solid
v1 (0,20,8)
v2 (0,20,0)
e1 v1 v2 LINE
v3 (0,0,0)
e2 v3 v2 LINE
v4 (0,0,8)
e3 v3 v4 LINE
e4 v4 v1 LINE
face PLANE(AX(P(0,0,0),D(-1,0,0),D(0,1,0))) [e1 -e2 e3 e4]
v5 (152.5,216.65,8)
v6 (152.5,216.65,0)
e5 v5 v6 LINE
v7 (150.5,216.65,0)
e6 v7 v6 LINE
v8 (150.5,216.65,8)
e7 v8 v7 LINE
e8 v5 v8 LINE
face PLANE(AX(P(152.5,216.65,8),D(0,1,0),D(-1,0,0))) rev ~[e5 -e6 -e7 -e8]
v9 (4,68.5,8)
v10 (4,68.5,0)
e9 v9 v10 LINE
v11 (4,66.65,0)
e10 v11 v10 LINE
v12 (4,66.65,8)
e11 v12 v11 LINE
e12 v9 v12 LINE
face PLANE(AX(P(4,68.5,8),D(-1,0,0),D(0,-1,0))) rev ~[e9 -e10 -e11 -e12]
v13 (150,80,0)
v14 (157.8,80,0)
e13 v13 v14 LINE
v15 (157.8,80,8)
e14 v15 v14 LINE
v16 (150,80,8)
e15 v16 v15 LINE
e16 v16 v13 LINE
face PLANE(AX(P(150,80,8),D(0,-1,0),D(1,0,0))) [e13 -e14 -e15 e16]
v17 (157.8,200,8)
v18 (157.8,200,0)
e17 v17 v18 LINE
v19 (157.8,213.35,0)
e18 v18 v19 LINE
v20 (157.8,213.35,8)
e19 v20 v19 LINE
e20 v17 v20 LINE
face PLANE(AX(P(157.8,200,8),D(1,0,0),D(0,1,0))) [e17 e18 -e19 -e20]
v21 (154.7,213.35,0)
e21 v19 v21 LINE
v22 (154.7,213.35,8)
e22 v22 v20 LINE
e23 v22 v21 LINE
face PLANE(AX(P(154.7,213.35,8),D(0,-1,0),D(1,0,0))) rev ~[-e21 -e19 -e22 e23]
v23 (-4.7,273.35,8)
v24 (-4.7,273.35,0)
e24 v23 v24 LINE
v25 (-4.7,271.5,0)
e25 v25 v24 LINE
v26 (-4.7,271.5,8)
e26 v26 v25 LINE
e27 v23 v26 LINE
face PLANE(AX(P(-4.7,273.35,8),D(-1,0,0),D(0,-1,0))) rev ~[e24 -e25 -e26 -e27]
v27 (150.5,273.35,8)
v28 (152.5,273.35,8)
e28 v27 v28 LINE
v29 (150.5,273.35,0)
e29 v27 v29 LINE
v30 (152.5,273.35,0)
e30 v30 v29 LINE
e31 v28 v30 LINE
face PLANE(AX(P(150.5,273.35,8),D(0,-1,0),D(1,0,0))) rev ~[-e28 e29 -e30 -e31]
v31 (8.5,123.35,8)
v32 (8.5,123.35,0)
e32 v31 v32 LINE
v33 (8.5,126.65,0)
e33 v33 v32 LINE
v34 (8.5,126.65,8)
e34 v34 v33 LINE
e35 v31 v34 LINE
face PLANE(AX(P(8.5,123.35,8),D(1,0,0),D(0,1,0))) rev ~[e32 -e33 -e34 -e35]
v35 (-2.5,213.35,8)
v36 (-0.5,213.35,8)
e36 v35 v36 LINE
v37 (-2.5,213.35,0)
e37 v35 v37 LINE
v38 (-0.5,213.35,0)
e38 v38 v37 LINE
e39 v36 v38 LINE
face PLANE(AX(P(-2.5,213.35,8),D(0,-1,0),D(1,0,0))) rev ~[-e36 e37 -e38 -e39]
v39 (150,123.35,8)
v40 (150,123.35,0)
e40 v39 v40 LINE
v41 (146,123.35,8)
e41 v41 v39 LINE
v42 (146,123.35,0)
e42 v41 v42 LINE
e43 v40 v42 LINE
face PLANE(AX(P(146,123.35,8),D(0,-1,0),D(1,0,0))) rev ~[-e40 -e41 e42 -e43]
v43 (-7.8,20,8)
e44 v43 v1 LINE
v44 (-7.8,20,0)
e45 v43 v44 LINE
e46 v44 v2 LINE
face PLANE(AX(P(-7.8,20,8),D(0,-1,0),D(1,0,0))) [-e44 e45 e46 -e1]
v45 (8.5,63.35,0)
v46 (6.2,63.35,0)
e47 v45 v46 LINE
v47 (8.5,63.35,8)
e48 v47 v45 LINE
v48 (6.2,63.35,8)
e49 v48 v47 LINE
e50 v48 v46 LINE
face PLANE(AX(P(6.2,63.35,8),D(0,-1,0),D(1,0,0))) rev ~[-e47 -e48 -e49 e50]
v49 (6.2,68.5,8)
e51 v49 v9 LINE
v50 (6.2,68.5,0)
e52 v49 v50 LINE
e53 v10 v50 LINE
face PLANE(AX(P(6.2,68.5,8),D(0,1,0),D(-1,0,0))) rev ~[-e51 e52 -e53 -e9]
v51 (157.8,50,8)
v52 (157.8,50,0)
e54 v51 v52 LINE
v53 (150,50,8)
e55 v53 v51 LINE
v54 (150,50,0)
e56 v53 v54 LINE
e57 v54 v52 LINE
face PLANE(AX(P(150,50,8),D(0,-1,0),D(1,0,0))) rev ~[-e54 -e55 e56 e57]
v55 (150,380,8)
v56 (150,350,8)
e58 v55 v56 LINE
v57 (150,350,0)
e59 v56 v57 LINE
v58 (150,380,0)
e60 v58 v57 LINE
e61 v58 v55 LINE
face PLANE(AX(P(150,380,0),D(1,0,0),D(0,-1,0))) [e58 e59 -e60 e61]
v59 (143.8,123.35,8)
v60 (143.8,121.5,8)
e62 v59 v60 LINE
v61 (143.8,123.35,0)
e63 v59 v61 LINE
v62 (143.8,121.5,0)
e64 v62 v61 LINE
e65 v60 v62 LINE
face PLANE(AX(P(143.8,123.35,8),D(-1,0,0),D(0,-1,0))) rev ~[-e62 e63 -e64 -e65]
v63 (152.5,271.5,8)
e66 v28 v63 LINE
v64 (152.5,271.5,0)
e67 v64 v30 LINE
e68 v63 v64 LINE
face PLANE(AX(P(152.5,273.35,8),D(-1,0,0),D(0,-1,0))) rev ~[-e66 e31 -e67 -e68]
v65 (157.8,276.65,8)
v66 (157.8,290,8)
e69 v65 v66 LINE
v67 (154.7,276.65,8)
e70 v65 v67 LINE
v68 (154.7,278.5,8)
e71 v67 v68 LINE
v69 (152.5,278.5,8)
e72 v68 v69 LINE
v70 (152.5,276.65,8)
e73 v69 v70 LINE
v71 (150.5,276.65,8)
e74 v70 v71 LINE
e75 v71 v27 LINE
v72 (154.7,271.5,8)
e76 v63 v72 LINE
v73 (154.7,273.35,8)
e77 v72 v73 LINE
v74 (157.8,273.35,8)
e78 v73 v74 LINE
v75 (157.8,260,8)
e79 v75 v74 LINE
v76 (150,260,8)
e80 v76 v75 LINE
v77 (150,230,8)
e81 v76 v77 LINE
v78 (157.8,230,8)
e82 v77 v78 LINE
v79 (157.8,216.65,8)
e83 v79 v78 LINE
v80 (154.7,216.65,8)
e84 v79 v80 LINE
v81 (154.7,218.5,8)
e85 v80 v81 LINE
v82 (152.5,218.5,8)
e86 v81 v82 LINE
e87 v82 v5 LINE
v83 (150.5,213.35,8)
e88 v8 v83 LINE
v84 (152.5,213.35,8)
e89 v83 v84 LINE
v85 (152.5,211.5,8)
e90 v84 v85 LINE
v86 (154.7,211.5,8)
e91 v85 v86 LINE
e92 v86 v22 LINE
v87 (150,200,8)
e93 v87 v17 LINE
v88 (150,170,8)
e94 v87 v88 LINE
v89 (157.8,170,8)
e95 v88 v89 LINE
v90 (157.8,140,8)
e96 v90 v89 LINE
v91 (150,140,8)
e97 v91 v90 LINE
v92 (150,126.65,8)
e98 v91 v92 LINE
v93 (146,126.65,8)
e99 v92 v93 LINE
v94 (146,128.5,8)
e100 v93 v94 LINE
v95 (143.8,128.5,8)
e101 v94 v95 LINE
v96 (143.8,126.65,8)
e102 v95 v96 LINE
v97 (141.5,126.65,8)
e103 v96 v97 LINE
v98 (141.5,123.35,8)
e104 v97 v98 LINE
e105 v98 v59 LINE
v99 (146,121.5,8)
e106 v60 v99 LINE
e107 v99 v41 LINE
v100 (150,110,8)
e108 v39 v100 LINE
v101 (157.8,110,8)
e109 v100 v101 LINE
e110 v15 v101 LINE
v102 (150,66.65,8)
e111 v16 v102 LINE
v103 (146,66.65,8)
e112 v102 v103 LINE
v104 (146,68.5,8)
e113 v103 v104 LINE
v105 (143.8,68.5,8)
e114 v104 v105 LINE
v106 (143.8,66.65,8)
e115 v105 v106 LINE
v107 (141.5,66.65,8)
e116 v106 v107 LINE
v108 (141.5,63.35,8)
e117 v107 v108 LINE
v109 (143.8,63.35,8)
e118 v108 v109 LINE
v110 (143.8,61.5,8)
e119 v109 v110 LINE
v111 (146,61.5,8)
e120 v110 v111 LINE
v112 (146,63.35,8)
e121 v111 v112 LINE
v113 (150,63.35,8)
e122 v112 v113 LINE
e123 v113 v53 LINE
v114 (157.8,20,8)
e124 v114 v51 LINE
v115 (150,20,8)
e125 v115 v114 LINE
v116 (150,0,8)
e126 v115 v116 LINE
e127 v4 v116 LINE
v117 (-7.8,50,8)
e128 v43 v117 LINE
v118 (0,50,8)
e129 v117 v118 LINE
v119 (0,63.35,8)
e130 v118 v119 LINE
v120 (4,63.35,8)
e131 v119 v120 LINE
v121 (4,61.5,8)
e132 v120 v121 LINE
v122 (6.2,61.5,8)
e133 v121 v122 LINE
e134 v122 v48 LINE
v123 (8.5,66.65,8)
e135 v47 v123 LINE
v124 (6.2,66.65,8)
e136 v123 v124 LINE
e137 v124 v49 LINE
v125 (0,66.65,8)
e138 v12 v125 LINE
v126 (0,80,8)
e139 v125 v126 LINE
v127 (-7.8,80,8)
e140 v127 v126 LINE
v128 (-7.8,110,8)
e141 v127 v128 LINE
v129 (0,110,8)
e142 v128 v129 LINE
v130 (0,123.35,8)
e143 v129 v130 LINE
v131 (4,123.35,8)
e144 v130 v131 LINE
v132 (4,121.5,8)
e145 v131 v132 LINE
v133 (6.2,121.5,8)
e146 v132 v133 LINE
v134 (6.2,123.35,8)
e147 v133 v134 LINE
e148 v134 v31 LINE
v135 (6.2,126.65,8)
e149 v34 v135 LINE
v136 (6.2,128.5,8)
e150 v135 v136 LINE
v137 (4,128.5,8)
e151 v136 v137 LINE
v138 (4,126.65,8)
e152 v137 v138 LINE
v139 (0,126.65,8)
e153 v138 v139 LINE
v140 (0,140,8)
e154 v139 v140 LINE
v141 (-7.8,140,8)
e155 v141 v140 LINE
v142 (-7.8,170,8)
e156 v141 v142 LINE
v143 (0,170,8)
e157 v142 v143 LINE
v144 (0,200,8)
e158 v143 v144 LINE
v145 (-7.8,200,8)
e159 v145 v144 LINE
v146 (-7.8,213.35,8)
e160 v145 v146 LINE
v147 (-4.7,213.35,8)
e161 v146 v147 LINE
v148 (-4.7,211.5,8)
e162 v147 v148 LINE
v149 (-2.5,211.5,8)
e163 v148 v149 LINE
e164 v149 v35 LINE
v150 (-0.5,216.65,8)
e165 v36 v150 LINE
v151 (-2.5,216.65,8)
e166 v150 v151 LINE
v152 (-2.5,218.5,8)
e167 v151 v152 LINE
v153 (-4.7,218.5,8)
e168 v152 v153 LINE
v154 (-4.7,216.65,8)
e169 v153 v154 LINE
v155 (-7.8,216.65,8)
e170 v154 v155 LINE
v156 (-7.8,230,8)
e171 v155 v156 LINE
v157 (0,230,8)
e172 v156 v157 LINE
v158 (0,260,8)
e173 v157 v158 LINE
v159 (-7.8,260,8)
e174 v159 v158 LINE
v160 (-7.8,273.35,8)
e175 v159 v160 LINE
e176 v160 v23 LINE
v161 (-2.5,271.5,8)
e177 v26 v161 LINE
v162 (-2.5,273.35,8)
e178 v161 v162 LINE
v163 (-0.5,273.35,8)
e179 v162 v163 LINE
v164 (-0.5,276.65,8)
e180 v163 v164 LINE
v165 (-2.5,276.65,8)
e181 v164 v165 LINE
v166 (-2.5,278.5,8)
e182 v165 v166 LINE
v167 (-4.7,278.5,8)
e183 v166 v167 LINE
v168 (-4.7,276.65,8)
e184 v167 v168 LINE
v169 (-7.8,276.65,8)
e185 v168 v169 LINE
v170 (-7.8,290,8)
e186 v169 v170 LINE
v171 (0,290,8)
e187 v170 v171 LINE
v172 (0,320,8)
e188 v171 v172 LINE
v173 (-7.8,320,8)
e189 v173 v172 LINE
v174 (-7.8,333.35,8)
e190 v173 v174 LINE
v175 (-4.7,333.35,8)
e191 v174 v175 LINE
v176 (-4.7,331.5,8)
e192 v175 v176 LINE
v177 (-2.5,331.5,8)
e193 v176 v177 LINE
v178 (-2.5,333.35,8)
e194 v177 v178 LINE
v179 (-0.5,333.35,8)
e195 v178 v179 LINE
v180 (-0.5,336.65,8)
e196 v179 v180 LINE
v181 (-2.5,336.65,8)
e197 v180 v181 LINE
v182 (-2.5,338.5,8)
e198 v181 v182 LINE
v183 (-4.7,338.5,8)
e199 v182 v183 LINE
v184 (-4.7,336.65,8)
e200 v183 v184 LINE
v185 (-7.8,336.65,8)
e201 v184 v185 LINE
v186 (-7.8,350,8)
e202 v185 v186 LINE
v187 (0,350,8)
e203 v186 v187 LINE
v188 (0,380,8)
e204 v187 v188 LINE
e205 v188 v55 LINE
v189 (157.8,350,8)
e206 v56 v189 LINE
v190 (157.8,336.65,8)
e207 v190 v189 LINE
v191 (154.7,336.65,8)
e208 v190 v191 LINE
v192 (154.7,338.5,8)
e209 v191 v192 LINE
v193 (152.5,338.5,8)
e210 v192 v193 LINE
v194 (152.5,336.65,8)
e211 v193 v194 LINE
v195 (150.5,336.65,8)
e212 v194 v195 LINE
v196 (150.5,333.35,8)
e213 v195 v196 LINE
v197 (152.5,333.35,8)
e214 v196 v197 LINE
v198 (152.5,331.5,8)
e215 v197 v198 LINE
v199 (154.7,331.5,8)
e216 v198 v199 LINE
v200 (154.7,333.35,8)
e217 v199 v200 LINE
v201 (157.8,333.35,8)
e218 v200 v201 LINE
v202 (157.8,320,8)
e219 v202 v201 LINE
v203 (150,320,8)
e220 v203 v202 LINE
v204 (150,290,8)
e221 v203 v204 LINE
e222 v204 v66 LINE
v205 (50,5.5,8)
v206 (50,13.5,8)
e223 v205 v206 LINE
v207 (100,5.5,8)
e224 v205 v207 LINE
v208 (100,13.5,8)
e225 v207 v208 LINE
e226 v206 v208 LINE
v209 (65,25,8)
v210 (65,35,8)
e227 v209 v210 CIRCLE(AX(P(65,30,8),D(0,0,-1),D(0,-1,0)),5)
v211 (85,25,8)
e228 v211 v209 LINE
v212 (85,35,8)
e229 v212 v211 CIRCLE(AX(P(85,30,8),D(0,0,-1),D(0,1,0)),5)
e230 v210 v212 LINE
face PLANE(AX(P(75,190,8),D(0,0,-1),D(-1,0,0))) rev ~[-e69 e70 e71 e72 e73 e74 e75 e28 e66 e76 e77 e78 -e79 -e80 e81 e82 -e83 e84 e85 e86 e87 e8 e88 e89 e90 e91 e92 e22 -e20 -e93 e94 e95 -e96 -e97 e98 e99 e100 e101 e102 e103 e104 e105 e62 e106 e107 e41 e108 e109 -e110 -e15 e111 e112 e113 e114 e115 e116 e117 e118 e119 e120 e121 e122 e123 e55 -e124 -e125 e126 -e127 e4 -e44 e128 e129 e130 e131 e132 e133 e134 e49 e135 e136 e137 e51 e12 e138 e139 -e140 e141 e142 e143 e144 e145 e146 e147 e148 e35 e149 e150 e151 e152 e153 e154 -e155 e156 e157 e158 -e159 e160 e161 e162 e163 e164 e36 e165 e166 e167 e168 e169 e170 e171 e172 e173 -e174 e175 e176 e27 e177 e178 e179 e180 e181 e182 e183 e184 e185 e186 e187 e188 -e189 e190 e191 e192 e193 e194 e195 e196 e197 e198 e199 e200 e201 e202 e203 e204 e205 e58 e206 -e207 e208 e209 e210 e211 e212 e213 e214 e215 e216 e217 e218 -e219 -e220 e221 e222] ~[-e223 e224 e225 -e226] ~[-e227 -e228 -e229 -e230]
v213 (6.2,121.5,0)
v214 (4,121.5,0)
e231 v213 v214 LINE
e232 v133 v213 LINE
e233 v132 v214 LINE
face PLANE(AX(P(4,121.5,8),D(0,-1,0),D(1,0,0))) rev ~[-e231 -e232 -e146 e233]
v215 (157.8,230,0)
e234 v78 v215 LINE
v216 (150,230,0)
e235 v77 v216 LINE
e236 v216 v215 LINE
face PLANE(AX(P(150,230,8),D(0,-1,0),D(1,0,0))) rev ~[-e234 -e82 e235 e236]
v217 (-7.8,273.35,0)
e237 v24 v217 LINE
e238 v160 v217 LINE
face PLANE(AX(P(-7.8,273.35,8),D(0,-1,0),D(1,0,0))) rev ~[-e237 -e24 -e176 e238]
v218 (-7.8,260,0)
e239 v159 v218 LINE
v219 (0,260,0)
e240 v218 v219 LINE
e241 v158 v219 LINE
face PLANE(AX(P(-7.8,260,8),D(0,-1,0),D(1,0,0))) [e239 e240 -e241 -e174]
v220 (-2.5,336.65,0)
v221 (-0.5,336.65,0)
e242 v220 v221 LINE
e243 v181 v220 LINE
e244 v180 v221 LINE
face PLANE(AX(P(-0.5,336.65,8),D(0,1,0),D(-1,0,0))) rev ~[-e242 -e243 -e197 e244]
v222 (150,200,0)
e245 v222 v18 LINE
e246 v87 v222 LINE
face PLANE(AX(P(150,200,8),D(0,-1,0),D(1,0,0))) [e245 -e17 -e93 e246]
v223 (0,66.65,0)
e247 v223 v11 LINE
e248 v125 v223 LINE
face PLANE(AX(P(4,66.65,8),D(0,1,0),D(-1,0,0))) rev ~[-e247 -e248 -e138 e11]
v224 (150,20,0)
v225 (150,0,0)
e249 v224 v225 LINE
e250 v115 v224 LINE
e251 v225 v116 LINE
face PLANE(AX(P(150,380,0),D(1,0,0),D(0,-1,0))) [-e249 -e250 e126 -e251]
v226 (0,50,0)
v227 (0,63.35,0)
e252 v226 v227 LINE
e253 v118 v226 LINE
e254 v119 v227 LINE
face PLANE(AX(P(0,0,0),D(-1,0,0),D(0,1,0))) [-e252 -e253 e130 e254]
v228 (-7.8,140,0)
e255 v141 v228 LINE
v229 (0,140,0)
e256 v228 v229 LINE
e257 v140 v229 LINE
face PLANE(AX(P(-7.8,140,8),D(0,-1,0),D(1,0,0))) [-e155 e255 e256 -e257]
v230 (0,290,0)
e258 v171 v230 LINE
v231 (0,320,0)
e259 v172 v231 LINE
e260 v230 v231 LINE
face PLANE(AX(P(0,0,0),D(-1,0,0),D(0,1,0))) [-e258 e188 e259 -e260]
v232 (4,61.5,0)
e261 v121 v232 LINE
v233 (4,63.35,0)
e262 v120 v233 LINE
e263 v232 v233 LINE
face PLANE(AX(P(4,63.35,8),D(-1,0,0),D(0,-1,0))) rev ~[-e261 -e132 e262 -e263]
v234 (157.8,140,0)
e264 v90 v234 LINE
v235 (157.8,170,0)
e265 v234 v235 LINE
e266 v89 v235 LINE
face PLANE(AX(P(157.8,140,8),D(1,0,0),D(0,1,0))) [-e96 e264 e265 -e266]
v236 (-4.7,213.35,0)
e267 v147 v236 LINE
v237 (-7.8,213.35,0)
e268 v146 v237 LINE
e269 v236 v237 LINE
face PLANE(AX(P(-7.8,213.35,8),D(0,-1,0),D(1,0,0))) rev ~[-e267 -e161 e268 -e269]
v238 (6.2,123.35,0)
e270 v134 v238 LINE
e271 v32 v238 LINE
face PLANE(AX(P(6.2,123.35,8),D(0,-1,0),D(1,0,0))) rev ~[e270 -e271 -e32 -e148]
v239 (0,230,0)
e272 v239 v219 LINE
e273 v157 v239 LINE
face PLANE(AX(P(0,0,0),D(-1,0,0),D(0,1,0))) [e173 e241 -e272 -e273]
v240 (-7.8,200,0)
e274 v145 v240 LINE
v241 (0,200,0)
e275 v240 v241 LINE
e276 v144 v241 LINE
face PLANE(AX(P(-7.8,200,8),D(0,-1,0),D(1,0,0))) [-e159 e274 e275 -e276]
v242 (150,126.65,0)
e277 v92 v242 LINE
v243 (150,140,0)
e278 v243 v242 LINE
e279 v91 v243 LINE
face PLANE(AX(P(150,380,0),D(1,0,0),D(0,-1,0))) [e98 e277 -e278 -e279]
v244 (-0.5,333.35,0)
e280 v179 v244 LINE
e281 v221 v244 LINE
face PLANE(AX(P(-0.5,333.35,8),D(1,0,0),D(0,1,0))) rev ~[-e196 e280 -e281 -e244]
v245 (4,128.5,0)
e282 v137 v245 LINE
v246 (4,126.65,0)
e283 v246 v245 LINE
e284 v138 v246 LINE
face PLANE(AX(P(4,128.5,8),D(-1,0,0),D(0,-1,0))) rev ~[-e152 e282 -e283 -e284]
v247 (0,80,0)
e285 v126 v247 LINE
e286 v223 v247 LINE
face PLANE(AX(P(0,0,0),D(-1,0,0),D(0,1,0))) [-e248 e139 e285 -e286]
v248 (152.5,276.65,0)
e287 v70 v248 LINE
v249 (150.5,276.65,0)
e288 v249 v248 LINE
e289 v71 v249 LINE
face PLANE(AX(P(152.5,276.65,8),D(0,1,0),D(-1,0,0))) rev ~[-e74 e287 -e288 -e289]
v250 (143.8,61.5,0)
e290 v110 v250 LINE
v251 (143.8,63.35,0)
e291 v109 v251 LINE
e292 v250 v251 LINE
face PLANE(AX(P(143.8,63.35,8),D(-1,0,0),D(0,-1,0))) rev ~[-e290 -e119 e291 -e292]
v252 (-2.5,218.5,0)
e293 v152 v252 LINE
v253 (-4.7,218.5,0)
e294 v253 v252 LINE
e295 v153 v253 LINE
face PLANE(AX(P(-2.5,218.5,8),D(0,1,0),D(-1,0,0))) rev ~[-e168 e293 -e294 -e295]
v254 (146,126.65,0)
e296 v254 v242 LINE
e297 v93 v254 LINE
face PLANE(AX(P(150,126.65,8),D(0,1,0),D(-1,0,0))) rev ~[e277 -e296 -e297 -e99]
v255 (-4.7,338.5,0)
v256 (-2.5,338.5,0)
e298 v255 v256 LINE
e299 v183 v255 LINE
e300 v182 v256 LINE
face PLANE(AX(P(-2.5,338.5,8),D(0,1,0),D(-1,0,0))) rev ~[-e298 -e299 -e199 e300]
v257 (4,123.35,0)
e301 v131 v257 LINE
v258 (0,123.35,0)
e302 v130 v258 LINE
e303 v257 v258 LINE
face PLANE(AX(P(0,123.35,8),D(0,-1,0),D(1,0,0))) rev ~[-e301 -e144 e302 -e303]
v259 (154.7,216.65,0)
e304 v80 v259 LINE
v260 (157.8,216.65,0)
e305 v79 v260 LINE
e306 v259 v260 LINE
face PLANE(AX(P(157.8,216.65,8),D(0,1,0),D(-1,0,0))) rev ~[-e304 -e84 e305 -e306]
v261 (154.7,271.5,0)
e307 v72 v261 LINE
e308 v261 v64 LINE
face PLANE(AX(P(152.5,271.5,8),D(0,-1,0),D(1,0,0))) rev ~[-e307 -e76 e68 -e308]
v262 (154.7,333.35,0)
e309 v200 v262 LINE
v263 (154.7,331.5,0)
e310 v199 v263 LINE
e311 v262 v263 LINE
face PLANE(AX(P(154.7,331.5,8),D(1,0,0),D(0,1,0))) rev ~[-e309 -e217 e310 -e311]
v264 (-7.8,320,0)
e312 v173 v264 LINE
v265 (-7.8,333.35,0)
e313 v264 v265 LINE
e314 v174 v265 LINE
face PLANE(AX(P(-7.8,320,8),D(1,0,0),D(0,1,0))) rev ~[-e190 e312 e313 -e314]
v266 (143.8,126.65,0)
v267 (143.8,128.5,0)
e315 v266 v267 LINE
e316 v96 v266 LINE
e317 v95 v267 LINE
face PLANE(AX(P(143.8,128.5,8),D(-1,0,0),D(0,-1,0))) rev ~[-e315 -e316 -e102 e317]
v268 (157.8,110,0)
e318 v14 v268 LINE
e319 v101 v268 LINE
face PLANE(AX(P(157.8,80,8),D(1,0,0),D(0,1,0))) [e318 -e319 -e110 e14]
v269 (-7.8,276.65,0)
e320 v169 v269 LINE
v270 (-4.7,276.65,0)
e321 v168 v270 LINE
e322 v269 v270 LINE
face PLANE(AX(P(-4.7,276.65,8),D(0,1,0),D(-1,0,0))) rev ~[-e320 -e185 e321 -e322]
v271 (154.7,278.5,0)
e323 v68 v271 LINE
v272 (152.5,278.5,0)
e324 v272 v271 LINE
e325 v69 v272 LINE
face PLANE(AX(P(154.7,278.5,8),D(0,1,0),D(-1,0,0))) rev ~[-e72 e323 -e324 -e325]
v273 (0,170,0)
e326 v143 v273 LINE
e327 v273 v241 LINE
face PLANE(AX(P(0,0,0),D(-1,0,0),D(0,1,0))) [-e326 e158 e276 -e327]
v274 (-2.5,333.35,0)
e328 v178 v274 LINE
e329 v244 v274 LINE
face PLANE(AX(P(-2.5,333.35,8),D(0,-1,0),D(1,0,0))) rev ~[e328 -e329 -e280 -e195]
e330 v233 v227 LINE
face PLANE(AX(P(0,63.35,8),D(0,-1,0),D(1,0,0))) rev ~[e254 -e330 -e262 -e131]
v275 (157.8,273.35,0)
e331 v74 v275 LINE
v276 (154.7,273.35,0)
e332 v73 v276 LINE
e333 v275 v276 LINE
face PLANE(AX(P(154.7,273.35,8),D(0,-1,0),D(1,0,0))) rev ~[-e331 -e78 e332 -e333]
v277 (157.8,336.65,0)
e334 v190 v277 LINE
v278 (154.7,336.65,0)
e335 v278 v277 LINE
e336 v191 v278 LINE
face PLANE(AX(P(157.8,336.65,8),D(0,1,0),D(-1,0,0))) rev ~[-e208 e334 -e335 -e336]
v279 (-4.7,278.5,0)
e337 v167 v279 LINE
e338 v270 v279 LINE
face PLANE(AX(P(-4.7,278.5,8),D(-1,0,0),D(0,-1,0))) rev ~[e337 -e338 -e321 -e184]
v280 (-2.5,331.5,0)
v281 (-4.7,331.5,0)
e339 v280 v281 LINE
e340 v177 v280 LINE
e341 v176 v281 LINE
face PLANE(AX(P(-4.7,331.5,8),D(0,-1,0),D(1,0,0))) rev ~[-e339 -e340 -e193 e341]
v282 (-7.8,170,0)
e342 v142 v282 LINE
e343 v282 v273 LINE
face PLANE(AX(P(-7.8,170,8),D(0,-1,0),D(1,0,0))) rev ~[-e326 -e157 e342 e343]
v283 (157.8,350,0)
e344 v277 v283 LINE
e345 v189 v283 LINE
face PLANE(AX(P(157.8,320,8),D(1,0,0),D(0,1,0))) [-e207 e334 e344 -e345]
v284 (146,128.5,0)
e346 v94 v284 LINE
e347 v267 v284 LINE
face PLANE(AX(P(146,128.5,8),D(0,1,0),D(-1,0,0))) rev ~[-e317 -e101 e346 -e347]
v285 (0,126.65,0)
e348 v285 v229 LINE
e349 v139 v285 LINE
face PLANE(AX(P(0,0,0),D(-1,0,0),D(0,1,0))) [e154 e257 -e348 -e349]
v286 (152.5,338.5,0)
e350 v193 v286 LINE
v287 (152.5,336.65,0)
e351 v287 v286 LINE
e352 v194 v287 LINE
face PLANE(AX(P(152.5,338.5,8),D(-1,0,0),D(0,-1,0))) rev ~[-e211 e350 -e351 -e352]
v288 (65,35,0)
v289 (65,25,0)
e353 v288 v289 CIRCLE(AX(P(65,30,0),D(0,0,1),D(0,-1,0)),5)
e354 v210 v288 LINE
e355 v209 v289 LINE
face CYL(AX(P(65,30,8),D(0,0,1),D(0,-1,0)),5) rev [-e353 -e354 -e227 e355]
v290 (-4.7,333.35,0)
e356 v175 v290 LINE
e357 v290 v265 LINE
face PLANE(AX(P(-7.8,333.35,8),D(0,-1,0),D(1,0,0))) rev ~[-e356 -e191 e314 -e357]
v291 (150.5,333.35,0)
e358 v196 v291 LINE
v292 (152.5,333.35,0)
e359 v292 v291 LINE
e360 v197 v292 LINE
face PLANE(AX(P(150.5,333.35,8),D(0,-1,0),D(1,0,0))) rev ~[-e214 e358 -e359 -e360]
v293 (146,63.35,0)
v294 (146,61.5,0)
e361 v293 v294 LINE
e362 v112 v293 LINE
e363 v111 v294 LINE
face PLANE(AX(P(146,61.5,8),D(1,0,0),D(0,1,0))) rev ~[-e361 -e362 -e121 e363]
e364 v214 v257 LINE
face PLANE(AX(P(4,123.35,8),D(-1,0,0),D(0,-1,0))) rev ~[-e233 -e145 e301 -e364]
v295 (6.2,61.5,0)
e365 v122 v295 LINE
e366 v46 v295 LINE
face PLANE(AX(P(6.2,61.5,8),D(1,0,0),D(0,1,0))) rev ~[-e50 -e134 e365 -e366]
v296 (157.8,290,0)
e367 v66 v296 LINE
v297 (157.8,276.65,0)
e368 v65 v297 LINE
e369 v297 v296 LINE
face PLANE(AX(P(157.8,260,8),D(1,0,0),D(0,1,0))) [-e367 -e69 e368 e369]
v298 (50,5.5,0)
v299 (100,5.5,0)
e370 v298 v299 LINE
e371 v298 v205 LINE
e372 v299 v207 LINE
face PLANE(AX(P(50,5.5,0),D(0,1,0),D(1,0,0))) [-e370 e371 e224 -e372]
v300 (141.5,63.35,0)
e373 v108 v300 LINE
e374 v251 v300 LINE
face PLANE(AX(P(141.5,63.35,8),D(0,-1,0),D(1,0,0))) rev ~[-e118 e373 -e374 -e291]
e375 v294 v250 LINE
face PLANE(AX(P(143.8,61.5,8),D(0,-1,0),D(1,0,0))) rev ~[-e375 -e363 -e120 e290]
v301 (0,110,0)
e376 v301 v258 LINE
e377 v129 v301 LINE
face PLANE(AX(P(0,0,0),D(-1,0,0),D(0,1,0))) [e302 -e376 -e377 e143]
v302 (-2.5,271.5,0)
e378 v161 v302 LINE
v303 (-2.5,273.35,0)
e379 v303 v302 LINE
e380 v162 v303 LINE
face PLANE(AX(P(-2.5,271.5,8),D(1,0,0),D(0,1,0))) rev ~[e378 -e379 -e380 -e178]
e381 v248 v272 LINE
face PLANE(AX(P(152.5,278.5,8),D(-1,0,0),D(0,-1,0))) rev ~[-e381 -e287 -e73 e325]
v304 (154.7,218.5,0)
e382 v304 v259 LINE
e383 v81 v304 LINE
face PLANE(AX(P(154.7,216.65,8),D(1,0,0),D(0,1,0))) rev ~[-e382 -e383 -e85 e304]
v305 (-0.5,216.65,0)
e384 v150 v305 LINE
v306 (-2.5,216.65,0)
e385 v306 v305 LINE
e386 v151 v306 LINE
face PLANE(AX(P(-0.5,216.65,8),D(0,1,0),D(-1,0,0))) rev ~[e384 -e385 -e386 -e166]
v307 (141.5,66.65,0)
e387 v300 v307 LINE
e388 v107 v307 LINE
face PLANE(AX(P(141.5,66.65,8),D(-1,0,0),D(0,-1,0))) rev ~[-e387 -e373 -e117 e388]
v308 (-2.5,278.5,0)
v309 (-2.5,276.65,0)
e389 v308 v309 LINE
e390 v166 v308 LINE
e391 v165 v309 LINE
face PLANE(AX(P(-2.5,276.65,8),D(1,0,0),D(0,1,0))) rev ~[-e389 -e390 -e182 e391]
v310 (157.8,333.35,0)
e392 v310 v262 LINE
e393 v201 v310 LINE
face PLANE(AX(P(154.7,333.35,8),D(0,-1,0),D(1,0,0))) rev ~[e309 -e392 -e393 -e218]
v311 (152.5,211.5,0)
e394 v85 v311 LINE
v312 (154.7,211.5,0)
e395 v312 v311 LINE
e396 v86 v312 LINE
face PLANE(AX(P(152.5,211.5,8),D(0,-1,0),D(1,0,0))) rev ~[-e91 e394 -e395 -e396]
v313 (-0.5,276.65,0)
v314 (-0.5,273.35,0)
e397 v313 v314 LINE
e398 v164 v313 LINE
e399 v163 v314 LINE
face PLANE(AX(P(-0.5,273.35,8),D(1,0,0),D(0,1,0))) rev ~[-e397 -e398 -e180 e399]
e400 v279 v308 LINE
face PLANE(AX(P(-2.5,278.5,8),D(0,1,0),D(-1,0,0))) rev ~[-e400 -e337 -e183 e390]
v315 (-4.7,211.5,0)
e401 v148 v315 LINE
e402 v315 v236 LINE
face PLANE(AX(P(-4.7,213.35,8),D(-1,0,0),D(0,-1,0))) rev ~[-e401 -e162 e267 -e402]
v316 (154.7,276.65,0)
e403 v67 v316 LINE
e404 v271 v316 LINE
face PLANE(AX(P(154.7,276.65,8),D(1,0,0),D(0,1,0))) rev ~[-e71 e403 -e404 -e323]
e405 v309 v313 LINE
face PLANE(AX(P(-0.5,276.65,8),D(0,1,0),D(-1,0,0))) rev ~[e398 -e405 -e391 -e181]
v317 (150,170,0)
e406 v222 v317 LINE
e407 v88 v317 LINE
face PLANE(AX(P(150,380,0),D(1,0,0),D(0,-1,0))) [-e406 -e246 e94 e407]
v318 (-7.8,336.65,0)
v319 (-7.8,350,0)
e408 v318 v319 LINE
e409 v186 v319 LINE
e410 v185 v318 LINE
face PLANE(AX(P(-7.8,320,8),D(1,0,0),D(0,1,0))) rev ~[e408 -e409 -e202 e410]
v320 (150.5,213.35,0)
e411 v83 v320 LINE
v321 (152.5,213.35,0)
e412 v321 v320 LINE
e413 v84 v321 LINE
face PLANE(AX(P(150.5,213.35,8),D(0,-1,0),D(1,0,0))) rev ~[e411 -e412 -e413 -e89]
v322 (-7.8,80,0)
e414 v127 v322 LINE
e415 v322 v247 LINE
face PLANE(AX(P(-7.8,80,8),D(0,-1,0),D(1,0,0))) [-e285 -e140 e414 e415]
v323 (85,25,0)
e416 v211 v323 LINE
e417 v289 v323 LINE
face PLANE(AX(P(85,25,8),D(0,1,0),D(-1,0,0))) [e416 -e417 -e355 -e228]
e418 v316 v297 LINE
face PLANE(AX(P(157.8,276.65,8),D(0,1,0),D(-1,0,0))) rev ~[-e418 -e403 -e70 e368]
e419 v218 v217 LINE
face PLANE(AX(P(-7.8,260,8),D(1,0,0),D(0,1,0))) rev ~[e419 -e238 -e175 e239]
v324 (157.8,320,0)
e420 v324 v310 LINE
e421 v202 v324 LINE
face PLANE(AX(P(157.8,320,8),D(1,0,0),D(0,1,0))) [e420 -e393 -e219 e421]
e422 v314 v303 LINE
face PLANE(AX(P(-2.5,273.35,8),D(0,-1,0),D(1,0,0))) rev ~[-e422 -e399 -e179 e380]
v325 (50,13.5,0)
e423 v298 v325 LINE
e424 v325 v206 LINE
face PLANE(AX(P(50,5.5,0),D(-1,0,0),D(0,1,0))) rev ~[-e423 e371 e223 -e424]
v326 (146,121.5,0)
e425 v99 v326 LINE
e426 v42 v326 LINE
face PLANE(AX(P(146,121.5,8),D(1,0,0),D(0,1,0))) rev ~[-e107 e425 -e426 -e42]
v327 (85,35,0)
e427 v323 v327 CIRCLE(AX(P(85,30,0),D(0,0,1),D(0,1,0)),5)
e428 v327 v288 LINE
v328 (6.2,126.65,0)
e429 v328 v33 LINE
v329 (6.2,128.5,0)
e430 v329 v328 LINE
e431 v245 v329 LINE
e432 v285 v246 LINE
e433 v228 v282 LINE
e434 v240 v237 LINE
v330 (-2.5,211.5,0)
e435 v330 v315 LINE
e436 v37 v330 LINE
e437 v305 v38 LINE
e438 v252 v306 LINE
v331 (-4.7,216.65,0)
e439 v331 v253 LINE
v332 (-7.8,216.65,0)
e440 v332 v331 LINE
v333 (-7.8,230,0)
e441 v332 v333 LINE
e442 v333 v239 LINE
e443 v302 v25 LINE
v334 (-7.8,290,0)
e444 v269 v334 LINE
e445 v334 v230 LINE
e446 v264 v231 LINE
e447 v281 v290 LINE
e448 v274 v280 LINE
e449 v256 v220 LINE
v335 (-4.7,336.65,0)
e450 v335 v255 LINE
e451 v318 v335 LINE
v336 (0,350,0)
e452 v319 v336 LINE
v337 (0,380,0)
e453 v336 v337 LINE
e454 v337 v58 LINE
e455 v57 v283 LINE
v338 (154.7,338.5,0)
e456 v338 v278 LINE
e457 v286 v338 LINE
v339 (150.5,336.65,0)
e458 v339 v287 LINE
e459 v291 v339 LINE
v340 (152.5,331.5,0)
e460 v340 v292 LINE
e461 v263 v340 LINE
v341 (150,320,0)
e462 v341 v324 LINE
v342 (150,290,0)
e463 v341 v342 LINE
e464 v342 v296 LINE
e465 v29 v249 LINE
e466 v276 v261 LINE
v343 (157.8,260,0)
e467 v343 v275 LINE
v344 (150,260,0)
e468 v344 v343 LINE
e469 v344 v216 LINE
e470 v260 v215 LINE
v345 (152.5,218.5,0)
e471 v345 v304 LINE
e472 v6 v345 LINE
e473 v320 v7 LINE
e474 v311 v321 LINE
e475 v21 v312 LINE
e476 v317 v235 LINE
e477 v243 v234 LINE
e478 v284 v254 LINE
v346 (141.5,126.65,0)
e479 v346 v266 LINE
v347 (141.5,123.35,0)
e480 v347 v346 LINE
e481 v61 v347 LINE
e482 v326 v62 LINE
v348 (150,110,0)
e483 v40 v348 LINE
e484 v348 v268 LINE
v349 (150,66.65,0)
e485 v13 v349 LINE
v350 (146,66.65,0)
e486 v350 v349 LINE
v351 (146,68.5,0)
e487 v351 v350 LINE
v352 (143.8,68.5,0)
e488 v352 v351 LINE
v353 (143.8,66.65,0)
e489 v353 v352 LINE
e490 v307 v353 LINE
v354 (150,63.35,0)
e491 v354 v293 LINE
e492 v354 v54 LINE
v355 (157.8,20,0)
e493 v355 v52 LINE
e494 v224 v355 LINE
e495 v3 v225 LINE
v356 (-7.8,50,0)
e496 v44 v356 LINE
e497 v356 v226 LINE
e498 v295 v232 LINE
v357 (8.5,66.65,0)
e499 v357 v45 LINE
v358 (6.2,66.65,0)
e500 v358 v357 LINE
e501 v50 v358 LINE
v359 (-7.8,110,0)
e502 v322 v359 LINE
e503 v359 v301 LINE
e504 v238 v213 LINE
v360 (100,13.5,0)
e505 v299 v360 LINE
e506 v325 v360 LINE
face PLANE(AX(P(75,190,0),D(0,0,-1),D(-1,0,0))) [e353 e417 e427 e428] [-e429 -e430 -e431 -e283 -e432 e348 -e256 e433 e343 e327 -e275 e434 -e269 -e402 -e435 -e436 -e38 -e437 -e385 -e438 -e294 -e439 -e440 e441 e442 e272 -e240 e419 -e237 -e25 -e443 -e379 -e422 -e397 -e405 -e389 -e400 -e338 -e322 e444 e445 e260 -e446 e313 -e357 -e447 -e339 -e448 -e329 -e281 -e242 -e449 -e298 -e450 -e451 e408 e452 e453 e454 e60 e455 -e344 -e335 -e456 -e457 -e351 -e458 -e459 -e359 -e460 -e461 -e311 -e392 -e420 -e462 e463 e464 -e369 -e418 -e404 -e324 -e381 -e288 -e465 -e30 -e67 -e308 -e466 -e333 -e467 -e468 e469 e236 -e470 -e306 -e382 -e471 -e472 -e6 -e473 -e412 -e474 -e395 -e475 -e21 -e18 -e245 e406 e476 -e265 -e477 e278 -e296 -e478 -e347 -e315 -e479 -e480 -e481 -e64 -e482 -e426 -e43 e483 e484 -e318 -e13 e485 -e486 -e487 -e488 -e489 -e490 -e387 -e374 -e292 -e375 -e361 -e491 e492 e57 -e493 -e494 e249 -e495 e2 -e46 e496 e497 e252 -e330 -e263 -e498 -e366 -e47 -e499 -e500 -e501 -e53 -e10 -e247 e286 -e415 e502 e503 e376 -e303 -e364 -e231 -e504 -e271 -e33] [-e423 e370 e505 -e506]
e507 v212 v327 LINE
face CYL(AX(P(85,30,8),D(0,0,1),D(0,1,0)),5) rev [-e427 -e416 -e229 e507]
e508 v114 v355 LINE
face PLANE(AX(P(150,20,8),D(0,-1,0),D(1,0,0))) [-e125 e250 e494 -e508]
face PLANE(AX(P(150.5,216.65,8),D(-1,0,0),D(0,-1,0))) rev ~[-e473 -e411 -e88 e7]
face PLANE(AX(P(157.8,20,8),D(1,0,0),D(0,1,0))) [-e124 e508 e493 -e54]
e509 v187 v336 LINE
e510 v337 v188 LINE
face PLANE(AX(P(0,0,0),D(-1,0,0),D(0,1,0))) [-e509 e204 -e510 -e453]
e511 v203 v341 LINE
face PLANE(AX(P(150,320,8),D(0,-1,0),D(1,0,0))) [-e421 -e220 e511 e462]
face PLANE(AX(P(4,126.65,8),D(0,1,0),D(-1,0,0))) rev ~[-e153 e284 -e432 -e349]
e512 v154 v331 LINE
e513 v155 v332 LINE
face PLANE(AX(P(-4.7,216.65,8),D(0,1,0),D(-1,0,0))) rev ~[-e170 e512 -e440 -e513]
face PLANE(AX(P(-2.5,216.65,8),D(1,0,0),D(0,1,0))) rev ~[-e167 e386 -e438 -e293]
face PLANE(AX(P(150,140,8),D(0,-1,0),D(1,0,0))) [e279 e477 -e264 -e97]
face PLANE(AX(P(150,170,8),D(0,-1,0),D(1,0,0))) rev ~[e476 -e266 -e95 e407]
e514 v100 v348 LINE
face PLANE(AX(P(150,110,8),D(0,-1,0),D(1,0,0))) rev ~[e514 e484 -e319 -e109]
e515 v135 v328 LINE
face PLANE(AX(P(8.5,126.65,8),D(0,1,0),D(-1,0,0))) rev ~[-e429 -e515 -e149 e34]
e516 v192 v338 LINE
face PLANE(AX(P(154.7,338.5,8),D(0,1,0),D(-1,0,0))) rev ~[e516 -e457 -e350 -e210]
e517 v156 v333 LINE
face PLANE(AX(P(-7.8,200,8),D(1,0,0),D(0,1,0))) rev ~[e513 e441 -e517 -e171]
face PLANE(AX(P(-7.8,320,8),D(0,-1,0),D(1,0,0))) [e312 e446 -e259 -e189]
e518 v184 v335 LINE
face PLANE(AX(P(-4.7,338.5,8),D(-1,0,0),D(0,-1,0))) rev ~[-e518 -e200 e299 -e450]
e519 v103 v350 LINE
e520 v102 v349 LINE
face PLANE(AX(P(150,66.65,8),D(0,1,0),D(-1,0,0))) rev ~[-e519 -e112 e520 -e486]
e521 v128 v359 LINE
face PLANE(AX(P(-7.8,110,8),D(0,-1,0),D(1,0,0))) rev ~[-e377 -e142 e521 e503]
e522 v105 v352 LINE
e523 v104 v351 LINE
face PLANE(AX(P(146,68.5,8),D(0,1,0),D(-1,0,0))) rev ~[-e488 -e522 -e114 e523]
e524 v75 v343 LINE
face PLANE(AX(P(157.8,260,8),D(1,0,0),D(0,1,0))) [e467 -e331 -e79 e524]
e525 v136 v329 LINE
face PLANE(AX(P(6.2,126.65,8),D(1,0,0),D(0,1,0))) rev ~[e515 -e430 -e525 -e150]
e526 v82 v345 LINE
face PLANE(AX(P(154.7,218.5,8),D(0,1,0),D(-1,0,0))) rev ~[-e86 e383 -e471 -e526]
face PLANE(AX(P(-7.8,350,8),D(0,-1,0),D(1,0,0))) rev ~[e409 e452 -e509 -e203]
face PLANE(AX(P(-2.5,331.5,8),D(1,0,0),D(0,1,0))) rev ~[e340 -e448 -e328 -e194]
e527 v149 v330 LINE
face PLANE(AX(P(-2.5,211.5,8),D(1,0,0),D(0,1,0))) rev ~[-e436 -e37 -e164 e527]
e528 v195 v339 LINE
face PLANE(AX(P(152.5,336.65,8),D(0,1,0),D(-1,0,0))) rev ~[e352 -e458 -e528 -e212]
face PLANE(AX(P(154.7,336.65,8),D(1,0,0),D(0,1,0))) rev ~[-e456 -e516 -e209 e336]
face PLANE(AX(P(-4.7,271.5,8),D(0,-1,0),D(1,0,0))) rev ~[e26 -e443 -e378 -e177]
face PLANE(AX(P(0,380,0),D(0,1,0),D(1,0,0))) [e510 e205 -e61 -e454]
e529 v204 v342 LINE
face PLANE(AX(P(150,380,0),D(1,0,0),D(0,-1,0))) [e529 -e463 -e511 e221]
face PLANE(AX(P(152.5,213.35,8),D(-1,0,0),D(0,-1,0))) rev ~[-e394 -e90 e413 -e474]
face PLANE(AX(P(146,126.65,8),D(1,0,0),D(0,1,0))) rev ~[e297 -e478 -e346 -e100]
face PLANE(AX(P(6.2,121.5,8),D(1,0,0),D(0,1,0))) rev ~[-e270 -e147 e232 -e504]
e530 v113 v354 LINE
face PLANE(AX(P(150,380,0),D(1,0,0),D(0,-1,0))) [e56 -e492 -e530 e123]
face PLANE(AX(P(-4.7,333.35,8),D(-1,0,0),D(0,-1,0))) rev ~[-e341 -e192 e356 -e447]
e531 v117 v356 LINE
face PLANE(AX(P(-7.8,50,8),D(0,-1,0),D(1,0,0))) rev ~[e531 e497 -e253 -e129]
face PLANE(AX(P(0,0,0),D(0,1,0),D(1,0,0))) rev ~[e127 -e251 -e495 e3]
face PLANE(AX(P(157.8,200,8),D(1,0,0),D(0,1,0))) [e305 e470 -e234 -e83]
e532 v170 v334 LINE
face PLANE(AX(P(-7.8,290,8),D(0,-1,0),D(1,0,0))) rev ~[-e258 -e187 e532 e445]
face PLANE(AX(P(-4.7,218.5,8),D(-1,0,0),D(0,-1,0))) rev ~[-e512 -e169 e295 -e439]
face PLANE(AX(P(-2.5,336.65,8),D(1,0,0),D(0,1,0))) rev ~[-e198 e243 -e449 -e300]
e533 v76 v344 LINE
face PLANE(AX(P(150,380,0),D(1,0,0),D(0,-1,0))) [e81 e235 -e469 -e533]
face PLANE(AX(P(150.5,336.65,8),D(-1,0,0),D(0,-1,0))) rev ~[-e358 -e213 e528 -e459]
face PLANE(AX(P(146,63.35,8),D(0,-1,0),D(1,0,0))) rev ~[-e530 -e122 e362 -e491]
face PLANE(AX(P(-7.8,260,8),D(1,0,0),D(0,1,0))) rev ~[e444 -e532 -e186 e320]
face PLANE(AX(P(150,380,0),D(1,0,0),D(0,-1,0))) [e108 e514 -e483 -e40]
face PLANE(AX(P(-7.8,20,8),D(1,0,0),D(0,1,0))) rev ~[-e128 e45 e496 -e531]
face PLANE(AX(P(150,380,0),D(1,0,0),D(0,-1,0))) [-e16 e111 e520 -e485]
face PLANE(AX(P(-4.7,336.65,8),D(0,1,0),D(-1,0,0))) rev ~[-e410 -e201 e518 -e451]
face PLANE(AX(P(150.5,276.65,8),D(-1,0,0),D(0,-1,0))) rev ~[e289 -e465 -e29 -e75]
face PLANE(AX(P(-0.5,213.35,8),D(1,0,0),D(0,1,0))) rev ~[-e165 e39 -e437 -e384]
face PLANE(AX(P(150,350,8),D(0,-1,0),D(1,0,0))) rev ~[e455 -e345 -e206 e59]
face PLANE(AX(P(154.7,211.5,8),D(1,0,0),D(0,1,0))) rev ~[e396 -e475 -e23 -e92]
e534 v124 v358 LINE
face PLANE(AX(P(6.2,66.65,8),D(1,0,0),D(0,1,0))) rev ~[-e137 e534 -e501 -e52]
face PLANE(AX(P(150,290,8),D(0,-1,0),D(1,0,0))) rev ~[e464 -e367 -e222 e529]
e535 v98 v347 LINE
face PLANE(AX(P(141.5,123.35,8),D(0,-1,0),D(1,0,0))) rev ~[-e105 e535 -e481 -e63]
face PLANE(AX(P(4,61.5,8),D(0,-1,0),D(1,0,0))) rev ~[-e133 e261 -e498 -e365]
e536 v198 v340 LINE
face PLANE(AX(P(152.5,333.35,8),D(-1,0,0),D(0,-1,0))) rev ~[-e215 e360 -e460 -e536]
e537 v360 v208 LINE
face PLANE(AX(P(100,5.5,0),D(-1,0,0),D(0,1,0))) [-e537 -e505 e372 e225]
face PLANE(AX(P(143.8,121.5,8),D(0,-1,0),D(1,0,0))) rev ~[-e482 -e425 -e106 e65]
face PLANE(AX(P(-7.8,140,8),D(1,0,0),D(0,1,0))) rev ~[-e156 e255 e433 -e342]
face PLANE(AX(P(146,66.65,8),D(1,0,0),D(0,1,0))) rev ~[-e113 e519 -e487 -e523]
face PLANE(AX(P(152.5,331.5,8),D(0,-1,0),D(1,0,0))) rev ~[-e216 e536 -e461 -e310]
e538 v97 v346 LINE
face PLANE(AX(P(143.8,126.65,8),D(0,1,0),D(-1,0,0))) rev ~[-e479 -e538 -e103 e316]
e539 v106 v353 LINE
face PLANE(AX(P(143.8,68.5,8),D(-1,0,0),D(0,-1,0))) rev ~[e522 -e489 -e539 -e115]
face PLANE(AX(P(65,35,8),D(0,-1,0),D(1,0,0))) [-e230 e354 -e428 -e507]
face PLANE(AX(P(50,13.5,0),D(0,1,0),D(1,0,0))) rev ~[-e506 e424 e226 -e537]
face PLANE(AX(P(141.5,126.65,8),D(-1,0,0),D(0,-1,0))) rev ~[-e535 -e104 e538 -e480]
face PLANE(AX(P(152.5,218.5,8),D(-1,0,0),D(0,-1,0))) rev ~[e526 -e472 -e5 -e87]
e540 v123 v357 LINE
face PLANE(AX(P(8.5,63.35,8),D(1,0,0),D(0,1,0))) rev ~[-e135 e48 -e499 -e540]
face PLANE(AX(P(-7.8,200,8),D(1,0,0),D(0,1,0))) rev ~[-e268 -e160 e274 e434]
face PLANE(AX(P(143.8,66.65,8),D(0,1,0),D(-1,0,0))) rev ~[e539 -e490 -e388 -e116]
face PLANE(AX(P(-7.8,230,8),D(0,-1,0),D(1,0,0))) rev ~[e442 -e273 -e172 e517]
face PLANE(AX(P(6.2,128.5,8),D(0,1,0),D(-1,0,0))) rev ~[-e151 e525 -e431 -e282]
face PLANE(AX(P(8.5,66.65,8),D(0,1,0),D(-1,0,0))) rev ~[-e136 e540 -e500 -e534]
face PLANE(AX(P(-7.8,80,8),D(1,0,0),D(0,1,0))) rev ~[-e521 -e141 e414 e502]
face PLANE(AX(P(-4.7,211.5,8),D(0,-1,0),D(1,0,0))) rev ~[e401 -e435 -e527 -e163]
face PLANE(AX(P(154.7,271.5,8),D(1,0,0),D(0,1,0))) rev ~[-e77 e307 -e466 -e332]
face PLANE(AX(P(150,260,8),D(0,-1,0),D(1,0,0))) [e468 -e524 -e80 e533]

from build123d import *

# Parameters (mm, degrees)
SKETCH1_W           = 50
SKETCH1_H           = 8
BOSS_EXTRUDE1_DEPTH = 8
SKETCH2_W           = 7.8
SKETCH2_H           = 30
BOSS_EXTRUDE2_DEPTH = 8
CUT_EXTRUDE1_DEPTH  = 9


with BuildPart() as part:
    # Sketch1 → Boss-Extrude1 (new body)
    with BuildSketch(Plane.XY):
        Polygon((0, 0), (0, 380), (150, 380), (150, 0), (75, 0), align=None)
        with Locations((75, 9.5)):
            Rectangle(SKETCH1_W, SKETCH1_H, mode=Mode.SUBTRACT)
    extrude(amount=BOSS_EXTRUDE1_DEPTH)

    # Sketch2 → Boss-Extrude2 (add)
    with BuildSketch(Plane.XY.offset(8)):
        with Locations((153.9, 335)):
            Rectangle(SKETCH2_W, SKETCH2_H)
        with Locations((-3.9, 35)):
            Rectangle(SKETCH2_W, SKETCH2_H)
        with Locations((-3.9, 95)):
            Rectangle(SKETCH2_W, SKETCH2_H)
        with Locations((-3.9, 155)):
            Rectangle(SKETCH2_W, SKETCH2_H)
        with Locations((-3.9, 215)):
            Rectangle(SKETCH2_W, SKETCH2_H)
        with Locations((-3.9, 275)):
            Rectangle(SKETCH2_W, SKETCH2_H)
        with Locations((-3.9, 335)):
            Rectangle(SKETCH2_W, SKETCH2_H)
        with Locations((153.9, 275)):
            Rectangle(SKETCH2_W, SKETCH2_H)
        with Locations((153.9, 215)):
            Rectangle(SKETCH2_W, SKETCH2_H)
        with Locations((153.9, 155)):
            Rectangle(SKETCH2_W, SKETCH2_H)
        with Locations((153.9, 95)):
            Rectangle(SKETCH2_W, SKETCH2_H)
        with Locations((153.9, 35)):
            Rectangle(SKETCH2_W, SKETCH2_H)
    extrude(amount=-BOSS_EXTRUDE2_DEPTH)

    # Sketch3 → Cut-Extrude1 (cut, through all)
    with BuildSketch(Plane.XY.offset(8)):
        with BuildLine():
            Line((65, 35), (85, 35))
            ThreePointArc((85, 35), (90, 30), (85, 25))
            Line((85, 25), (65, 25))
            ThreePointArc((65, 25), (60, 30), (65, 35))
        make_face()
        Polygon((150, 123.35), (150, 126.65), (146, 126.65), (146, 128.5), (143.8, 128.5), (143.8, 126.65), (141.5, 126.65), (141.5, 123.35), (143.8, 123.35), (143.8, 121.5), (146, 121.5), (146, 123.35), align=None)
        Polygon((157.8, 333.35), (157.8, 336.65), (154.7, 336.65), (154.7, 338.5), (152.5, 338.5), (152.5, 336.65), (150.5, 336.65), (150.5, 333.35), (152.5, 333.35), (152.5, 331.5), (154.7, 331.5), (154.7, 333.35), align=None)
        Polygon((0, 63.35), (4, 63.35), (4, 61.5), (6.2, 61.5), (6.2, 63.35), (8.5, 63.35), (8.5, 66.65), (6.2, 66.65), (6.2, 68.5), (4, 68.5), (4, 66.65), (0, 66.65), align=None)
        Polygon((0, 123.35), (4, 123.35), (4, 121.5), (6.2, 121.5), (6.2, 123.35), (8.5, 123.35), (8.5, 126.65), (6.2, 126.65), (6.2, 128.5), (4, 128.5), (4, 126.65), (0, 126.65), align=None)
        Polygon((-7.8, 333.35), (-4.7, 333.35), (-4.7, 331.5), (-2.5, 331.5), (-2.5, 333.35), (-0.5, 333.35), (-0.5, 336.65), (-2.5, 336.65), (-2.5, 338.5), (-4.7, 338.5), (-4.7, 336.65), (-7.8, 336.65), align=None)
        Polygon((150, 63.35), (150, 66.65), (146, 66.65), (146, 68.5), (143.8, 68.5), (143.8, 66.65), (141.5, 66.65), (141.5, 63.35), (143.8, 63.35), (143.8, 61.5), (146, 61.5), (146, 63.35), align=None)
        Polygon((157.8, 273.35), (157.8, 276.65), (154.7, 276.65), (154.7, 278.5), (152.5, 278.5), (152.5, 276.65), (150.5, 276.65), (150.5, 273.35), (152.5, 273.35), (152.5, 271.5), (154.7, 271.5), (154.7, 273.35), align=None)
        Polygon((-7.8, 273.35), (-4.7, 273.35), (-4.7, 271.5), (-2.5, 271.5), (-2.5, 273.35), (-0.5, 273.35), (-0.5, 276.65), (-2.5, 276.65), (-2.5, 278.5), (-4.7, 278.5), (-4.7, 276.65), (-7.8, 276.65), align=None)
        Polygon((157.8, 213.35), (157.8, 216.65), (154.7, 216.65), (154.7, 218.5), (152.5, 218.5), (152.5, 216.65), (150.5, 216.65), (150.5, 213.35), (152.5, 213.35), (152.5, 211.5), (154.7, 211.5), (154.7, 213.35), align=None)
        Polygon((-7.8, 213.35), (-4.7, 213.35), (-4.7, 211.5), (-2.5, 211.5), (-2.5, 213.35), (-0.5, 213.35), (-0.5, 216.65), (-2.5, 216.65), (-2.5, 218.5), (-4.7, 218.5), (-4.7, 216.65), (-7.8, 216.65), align=None)
    extrude(amount=-CUT_EXTRUDE1_DEPTH, mode=Mode.SUBTRACT)


solid = part.part
